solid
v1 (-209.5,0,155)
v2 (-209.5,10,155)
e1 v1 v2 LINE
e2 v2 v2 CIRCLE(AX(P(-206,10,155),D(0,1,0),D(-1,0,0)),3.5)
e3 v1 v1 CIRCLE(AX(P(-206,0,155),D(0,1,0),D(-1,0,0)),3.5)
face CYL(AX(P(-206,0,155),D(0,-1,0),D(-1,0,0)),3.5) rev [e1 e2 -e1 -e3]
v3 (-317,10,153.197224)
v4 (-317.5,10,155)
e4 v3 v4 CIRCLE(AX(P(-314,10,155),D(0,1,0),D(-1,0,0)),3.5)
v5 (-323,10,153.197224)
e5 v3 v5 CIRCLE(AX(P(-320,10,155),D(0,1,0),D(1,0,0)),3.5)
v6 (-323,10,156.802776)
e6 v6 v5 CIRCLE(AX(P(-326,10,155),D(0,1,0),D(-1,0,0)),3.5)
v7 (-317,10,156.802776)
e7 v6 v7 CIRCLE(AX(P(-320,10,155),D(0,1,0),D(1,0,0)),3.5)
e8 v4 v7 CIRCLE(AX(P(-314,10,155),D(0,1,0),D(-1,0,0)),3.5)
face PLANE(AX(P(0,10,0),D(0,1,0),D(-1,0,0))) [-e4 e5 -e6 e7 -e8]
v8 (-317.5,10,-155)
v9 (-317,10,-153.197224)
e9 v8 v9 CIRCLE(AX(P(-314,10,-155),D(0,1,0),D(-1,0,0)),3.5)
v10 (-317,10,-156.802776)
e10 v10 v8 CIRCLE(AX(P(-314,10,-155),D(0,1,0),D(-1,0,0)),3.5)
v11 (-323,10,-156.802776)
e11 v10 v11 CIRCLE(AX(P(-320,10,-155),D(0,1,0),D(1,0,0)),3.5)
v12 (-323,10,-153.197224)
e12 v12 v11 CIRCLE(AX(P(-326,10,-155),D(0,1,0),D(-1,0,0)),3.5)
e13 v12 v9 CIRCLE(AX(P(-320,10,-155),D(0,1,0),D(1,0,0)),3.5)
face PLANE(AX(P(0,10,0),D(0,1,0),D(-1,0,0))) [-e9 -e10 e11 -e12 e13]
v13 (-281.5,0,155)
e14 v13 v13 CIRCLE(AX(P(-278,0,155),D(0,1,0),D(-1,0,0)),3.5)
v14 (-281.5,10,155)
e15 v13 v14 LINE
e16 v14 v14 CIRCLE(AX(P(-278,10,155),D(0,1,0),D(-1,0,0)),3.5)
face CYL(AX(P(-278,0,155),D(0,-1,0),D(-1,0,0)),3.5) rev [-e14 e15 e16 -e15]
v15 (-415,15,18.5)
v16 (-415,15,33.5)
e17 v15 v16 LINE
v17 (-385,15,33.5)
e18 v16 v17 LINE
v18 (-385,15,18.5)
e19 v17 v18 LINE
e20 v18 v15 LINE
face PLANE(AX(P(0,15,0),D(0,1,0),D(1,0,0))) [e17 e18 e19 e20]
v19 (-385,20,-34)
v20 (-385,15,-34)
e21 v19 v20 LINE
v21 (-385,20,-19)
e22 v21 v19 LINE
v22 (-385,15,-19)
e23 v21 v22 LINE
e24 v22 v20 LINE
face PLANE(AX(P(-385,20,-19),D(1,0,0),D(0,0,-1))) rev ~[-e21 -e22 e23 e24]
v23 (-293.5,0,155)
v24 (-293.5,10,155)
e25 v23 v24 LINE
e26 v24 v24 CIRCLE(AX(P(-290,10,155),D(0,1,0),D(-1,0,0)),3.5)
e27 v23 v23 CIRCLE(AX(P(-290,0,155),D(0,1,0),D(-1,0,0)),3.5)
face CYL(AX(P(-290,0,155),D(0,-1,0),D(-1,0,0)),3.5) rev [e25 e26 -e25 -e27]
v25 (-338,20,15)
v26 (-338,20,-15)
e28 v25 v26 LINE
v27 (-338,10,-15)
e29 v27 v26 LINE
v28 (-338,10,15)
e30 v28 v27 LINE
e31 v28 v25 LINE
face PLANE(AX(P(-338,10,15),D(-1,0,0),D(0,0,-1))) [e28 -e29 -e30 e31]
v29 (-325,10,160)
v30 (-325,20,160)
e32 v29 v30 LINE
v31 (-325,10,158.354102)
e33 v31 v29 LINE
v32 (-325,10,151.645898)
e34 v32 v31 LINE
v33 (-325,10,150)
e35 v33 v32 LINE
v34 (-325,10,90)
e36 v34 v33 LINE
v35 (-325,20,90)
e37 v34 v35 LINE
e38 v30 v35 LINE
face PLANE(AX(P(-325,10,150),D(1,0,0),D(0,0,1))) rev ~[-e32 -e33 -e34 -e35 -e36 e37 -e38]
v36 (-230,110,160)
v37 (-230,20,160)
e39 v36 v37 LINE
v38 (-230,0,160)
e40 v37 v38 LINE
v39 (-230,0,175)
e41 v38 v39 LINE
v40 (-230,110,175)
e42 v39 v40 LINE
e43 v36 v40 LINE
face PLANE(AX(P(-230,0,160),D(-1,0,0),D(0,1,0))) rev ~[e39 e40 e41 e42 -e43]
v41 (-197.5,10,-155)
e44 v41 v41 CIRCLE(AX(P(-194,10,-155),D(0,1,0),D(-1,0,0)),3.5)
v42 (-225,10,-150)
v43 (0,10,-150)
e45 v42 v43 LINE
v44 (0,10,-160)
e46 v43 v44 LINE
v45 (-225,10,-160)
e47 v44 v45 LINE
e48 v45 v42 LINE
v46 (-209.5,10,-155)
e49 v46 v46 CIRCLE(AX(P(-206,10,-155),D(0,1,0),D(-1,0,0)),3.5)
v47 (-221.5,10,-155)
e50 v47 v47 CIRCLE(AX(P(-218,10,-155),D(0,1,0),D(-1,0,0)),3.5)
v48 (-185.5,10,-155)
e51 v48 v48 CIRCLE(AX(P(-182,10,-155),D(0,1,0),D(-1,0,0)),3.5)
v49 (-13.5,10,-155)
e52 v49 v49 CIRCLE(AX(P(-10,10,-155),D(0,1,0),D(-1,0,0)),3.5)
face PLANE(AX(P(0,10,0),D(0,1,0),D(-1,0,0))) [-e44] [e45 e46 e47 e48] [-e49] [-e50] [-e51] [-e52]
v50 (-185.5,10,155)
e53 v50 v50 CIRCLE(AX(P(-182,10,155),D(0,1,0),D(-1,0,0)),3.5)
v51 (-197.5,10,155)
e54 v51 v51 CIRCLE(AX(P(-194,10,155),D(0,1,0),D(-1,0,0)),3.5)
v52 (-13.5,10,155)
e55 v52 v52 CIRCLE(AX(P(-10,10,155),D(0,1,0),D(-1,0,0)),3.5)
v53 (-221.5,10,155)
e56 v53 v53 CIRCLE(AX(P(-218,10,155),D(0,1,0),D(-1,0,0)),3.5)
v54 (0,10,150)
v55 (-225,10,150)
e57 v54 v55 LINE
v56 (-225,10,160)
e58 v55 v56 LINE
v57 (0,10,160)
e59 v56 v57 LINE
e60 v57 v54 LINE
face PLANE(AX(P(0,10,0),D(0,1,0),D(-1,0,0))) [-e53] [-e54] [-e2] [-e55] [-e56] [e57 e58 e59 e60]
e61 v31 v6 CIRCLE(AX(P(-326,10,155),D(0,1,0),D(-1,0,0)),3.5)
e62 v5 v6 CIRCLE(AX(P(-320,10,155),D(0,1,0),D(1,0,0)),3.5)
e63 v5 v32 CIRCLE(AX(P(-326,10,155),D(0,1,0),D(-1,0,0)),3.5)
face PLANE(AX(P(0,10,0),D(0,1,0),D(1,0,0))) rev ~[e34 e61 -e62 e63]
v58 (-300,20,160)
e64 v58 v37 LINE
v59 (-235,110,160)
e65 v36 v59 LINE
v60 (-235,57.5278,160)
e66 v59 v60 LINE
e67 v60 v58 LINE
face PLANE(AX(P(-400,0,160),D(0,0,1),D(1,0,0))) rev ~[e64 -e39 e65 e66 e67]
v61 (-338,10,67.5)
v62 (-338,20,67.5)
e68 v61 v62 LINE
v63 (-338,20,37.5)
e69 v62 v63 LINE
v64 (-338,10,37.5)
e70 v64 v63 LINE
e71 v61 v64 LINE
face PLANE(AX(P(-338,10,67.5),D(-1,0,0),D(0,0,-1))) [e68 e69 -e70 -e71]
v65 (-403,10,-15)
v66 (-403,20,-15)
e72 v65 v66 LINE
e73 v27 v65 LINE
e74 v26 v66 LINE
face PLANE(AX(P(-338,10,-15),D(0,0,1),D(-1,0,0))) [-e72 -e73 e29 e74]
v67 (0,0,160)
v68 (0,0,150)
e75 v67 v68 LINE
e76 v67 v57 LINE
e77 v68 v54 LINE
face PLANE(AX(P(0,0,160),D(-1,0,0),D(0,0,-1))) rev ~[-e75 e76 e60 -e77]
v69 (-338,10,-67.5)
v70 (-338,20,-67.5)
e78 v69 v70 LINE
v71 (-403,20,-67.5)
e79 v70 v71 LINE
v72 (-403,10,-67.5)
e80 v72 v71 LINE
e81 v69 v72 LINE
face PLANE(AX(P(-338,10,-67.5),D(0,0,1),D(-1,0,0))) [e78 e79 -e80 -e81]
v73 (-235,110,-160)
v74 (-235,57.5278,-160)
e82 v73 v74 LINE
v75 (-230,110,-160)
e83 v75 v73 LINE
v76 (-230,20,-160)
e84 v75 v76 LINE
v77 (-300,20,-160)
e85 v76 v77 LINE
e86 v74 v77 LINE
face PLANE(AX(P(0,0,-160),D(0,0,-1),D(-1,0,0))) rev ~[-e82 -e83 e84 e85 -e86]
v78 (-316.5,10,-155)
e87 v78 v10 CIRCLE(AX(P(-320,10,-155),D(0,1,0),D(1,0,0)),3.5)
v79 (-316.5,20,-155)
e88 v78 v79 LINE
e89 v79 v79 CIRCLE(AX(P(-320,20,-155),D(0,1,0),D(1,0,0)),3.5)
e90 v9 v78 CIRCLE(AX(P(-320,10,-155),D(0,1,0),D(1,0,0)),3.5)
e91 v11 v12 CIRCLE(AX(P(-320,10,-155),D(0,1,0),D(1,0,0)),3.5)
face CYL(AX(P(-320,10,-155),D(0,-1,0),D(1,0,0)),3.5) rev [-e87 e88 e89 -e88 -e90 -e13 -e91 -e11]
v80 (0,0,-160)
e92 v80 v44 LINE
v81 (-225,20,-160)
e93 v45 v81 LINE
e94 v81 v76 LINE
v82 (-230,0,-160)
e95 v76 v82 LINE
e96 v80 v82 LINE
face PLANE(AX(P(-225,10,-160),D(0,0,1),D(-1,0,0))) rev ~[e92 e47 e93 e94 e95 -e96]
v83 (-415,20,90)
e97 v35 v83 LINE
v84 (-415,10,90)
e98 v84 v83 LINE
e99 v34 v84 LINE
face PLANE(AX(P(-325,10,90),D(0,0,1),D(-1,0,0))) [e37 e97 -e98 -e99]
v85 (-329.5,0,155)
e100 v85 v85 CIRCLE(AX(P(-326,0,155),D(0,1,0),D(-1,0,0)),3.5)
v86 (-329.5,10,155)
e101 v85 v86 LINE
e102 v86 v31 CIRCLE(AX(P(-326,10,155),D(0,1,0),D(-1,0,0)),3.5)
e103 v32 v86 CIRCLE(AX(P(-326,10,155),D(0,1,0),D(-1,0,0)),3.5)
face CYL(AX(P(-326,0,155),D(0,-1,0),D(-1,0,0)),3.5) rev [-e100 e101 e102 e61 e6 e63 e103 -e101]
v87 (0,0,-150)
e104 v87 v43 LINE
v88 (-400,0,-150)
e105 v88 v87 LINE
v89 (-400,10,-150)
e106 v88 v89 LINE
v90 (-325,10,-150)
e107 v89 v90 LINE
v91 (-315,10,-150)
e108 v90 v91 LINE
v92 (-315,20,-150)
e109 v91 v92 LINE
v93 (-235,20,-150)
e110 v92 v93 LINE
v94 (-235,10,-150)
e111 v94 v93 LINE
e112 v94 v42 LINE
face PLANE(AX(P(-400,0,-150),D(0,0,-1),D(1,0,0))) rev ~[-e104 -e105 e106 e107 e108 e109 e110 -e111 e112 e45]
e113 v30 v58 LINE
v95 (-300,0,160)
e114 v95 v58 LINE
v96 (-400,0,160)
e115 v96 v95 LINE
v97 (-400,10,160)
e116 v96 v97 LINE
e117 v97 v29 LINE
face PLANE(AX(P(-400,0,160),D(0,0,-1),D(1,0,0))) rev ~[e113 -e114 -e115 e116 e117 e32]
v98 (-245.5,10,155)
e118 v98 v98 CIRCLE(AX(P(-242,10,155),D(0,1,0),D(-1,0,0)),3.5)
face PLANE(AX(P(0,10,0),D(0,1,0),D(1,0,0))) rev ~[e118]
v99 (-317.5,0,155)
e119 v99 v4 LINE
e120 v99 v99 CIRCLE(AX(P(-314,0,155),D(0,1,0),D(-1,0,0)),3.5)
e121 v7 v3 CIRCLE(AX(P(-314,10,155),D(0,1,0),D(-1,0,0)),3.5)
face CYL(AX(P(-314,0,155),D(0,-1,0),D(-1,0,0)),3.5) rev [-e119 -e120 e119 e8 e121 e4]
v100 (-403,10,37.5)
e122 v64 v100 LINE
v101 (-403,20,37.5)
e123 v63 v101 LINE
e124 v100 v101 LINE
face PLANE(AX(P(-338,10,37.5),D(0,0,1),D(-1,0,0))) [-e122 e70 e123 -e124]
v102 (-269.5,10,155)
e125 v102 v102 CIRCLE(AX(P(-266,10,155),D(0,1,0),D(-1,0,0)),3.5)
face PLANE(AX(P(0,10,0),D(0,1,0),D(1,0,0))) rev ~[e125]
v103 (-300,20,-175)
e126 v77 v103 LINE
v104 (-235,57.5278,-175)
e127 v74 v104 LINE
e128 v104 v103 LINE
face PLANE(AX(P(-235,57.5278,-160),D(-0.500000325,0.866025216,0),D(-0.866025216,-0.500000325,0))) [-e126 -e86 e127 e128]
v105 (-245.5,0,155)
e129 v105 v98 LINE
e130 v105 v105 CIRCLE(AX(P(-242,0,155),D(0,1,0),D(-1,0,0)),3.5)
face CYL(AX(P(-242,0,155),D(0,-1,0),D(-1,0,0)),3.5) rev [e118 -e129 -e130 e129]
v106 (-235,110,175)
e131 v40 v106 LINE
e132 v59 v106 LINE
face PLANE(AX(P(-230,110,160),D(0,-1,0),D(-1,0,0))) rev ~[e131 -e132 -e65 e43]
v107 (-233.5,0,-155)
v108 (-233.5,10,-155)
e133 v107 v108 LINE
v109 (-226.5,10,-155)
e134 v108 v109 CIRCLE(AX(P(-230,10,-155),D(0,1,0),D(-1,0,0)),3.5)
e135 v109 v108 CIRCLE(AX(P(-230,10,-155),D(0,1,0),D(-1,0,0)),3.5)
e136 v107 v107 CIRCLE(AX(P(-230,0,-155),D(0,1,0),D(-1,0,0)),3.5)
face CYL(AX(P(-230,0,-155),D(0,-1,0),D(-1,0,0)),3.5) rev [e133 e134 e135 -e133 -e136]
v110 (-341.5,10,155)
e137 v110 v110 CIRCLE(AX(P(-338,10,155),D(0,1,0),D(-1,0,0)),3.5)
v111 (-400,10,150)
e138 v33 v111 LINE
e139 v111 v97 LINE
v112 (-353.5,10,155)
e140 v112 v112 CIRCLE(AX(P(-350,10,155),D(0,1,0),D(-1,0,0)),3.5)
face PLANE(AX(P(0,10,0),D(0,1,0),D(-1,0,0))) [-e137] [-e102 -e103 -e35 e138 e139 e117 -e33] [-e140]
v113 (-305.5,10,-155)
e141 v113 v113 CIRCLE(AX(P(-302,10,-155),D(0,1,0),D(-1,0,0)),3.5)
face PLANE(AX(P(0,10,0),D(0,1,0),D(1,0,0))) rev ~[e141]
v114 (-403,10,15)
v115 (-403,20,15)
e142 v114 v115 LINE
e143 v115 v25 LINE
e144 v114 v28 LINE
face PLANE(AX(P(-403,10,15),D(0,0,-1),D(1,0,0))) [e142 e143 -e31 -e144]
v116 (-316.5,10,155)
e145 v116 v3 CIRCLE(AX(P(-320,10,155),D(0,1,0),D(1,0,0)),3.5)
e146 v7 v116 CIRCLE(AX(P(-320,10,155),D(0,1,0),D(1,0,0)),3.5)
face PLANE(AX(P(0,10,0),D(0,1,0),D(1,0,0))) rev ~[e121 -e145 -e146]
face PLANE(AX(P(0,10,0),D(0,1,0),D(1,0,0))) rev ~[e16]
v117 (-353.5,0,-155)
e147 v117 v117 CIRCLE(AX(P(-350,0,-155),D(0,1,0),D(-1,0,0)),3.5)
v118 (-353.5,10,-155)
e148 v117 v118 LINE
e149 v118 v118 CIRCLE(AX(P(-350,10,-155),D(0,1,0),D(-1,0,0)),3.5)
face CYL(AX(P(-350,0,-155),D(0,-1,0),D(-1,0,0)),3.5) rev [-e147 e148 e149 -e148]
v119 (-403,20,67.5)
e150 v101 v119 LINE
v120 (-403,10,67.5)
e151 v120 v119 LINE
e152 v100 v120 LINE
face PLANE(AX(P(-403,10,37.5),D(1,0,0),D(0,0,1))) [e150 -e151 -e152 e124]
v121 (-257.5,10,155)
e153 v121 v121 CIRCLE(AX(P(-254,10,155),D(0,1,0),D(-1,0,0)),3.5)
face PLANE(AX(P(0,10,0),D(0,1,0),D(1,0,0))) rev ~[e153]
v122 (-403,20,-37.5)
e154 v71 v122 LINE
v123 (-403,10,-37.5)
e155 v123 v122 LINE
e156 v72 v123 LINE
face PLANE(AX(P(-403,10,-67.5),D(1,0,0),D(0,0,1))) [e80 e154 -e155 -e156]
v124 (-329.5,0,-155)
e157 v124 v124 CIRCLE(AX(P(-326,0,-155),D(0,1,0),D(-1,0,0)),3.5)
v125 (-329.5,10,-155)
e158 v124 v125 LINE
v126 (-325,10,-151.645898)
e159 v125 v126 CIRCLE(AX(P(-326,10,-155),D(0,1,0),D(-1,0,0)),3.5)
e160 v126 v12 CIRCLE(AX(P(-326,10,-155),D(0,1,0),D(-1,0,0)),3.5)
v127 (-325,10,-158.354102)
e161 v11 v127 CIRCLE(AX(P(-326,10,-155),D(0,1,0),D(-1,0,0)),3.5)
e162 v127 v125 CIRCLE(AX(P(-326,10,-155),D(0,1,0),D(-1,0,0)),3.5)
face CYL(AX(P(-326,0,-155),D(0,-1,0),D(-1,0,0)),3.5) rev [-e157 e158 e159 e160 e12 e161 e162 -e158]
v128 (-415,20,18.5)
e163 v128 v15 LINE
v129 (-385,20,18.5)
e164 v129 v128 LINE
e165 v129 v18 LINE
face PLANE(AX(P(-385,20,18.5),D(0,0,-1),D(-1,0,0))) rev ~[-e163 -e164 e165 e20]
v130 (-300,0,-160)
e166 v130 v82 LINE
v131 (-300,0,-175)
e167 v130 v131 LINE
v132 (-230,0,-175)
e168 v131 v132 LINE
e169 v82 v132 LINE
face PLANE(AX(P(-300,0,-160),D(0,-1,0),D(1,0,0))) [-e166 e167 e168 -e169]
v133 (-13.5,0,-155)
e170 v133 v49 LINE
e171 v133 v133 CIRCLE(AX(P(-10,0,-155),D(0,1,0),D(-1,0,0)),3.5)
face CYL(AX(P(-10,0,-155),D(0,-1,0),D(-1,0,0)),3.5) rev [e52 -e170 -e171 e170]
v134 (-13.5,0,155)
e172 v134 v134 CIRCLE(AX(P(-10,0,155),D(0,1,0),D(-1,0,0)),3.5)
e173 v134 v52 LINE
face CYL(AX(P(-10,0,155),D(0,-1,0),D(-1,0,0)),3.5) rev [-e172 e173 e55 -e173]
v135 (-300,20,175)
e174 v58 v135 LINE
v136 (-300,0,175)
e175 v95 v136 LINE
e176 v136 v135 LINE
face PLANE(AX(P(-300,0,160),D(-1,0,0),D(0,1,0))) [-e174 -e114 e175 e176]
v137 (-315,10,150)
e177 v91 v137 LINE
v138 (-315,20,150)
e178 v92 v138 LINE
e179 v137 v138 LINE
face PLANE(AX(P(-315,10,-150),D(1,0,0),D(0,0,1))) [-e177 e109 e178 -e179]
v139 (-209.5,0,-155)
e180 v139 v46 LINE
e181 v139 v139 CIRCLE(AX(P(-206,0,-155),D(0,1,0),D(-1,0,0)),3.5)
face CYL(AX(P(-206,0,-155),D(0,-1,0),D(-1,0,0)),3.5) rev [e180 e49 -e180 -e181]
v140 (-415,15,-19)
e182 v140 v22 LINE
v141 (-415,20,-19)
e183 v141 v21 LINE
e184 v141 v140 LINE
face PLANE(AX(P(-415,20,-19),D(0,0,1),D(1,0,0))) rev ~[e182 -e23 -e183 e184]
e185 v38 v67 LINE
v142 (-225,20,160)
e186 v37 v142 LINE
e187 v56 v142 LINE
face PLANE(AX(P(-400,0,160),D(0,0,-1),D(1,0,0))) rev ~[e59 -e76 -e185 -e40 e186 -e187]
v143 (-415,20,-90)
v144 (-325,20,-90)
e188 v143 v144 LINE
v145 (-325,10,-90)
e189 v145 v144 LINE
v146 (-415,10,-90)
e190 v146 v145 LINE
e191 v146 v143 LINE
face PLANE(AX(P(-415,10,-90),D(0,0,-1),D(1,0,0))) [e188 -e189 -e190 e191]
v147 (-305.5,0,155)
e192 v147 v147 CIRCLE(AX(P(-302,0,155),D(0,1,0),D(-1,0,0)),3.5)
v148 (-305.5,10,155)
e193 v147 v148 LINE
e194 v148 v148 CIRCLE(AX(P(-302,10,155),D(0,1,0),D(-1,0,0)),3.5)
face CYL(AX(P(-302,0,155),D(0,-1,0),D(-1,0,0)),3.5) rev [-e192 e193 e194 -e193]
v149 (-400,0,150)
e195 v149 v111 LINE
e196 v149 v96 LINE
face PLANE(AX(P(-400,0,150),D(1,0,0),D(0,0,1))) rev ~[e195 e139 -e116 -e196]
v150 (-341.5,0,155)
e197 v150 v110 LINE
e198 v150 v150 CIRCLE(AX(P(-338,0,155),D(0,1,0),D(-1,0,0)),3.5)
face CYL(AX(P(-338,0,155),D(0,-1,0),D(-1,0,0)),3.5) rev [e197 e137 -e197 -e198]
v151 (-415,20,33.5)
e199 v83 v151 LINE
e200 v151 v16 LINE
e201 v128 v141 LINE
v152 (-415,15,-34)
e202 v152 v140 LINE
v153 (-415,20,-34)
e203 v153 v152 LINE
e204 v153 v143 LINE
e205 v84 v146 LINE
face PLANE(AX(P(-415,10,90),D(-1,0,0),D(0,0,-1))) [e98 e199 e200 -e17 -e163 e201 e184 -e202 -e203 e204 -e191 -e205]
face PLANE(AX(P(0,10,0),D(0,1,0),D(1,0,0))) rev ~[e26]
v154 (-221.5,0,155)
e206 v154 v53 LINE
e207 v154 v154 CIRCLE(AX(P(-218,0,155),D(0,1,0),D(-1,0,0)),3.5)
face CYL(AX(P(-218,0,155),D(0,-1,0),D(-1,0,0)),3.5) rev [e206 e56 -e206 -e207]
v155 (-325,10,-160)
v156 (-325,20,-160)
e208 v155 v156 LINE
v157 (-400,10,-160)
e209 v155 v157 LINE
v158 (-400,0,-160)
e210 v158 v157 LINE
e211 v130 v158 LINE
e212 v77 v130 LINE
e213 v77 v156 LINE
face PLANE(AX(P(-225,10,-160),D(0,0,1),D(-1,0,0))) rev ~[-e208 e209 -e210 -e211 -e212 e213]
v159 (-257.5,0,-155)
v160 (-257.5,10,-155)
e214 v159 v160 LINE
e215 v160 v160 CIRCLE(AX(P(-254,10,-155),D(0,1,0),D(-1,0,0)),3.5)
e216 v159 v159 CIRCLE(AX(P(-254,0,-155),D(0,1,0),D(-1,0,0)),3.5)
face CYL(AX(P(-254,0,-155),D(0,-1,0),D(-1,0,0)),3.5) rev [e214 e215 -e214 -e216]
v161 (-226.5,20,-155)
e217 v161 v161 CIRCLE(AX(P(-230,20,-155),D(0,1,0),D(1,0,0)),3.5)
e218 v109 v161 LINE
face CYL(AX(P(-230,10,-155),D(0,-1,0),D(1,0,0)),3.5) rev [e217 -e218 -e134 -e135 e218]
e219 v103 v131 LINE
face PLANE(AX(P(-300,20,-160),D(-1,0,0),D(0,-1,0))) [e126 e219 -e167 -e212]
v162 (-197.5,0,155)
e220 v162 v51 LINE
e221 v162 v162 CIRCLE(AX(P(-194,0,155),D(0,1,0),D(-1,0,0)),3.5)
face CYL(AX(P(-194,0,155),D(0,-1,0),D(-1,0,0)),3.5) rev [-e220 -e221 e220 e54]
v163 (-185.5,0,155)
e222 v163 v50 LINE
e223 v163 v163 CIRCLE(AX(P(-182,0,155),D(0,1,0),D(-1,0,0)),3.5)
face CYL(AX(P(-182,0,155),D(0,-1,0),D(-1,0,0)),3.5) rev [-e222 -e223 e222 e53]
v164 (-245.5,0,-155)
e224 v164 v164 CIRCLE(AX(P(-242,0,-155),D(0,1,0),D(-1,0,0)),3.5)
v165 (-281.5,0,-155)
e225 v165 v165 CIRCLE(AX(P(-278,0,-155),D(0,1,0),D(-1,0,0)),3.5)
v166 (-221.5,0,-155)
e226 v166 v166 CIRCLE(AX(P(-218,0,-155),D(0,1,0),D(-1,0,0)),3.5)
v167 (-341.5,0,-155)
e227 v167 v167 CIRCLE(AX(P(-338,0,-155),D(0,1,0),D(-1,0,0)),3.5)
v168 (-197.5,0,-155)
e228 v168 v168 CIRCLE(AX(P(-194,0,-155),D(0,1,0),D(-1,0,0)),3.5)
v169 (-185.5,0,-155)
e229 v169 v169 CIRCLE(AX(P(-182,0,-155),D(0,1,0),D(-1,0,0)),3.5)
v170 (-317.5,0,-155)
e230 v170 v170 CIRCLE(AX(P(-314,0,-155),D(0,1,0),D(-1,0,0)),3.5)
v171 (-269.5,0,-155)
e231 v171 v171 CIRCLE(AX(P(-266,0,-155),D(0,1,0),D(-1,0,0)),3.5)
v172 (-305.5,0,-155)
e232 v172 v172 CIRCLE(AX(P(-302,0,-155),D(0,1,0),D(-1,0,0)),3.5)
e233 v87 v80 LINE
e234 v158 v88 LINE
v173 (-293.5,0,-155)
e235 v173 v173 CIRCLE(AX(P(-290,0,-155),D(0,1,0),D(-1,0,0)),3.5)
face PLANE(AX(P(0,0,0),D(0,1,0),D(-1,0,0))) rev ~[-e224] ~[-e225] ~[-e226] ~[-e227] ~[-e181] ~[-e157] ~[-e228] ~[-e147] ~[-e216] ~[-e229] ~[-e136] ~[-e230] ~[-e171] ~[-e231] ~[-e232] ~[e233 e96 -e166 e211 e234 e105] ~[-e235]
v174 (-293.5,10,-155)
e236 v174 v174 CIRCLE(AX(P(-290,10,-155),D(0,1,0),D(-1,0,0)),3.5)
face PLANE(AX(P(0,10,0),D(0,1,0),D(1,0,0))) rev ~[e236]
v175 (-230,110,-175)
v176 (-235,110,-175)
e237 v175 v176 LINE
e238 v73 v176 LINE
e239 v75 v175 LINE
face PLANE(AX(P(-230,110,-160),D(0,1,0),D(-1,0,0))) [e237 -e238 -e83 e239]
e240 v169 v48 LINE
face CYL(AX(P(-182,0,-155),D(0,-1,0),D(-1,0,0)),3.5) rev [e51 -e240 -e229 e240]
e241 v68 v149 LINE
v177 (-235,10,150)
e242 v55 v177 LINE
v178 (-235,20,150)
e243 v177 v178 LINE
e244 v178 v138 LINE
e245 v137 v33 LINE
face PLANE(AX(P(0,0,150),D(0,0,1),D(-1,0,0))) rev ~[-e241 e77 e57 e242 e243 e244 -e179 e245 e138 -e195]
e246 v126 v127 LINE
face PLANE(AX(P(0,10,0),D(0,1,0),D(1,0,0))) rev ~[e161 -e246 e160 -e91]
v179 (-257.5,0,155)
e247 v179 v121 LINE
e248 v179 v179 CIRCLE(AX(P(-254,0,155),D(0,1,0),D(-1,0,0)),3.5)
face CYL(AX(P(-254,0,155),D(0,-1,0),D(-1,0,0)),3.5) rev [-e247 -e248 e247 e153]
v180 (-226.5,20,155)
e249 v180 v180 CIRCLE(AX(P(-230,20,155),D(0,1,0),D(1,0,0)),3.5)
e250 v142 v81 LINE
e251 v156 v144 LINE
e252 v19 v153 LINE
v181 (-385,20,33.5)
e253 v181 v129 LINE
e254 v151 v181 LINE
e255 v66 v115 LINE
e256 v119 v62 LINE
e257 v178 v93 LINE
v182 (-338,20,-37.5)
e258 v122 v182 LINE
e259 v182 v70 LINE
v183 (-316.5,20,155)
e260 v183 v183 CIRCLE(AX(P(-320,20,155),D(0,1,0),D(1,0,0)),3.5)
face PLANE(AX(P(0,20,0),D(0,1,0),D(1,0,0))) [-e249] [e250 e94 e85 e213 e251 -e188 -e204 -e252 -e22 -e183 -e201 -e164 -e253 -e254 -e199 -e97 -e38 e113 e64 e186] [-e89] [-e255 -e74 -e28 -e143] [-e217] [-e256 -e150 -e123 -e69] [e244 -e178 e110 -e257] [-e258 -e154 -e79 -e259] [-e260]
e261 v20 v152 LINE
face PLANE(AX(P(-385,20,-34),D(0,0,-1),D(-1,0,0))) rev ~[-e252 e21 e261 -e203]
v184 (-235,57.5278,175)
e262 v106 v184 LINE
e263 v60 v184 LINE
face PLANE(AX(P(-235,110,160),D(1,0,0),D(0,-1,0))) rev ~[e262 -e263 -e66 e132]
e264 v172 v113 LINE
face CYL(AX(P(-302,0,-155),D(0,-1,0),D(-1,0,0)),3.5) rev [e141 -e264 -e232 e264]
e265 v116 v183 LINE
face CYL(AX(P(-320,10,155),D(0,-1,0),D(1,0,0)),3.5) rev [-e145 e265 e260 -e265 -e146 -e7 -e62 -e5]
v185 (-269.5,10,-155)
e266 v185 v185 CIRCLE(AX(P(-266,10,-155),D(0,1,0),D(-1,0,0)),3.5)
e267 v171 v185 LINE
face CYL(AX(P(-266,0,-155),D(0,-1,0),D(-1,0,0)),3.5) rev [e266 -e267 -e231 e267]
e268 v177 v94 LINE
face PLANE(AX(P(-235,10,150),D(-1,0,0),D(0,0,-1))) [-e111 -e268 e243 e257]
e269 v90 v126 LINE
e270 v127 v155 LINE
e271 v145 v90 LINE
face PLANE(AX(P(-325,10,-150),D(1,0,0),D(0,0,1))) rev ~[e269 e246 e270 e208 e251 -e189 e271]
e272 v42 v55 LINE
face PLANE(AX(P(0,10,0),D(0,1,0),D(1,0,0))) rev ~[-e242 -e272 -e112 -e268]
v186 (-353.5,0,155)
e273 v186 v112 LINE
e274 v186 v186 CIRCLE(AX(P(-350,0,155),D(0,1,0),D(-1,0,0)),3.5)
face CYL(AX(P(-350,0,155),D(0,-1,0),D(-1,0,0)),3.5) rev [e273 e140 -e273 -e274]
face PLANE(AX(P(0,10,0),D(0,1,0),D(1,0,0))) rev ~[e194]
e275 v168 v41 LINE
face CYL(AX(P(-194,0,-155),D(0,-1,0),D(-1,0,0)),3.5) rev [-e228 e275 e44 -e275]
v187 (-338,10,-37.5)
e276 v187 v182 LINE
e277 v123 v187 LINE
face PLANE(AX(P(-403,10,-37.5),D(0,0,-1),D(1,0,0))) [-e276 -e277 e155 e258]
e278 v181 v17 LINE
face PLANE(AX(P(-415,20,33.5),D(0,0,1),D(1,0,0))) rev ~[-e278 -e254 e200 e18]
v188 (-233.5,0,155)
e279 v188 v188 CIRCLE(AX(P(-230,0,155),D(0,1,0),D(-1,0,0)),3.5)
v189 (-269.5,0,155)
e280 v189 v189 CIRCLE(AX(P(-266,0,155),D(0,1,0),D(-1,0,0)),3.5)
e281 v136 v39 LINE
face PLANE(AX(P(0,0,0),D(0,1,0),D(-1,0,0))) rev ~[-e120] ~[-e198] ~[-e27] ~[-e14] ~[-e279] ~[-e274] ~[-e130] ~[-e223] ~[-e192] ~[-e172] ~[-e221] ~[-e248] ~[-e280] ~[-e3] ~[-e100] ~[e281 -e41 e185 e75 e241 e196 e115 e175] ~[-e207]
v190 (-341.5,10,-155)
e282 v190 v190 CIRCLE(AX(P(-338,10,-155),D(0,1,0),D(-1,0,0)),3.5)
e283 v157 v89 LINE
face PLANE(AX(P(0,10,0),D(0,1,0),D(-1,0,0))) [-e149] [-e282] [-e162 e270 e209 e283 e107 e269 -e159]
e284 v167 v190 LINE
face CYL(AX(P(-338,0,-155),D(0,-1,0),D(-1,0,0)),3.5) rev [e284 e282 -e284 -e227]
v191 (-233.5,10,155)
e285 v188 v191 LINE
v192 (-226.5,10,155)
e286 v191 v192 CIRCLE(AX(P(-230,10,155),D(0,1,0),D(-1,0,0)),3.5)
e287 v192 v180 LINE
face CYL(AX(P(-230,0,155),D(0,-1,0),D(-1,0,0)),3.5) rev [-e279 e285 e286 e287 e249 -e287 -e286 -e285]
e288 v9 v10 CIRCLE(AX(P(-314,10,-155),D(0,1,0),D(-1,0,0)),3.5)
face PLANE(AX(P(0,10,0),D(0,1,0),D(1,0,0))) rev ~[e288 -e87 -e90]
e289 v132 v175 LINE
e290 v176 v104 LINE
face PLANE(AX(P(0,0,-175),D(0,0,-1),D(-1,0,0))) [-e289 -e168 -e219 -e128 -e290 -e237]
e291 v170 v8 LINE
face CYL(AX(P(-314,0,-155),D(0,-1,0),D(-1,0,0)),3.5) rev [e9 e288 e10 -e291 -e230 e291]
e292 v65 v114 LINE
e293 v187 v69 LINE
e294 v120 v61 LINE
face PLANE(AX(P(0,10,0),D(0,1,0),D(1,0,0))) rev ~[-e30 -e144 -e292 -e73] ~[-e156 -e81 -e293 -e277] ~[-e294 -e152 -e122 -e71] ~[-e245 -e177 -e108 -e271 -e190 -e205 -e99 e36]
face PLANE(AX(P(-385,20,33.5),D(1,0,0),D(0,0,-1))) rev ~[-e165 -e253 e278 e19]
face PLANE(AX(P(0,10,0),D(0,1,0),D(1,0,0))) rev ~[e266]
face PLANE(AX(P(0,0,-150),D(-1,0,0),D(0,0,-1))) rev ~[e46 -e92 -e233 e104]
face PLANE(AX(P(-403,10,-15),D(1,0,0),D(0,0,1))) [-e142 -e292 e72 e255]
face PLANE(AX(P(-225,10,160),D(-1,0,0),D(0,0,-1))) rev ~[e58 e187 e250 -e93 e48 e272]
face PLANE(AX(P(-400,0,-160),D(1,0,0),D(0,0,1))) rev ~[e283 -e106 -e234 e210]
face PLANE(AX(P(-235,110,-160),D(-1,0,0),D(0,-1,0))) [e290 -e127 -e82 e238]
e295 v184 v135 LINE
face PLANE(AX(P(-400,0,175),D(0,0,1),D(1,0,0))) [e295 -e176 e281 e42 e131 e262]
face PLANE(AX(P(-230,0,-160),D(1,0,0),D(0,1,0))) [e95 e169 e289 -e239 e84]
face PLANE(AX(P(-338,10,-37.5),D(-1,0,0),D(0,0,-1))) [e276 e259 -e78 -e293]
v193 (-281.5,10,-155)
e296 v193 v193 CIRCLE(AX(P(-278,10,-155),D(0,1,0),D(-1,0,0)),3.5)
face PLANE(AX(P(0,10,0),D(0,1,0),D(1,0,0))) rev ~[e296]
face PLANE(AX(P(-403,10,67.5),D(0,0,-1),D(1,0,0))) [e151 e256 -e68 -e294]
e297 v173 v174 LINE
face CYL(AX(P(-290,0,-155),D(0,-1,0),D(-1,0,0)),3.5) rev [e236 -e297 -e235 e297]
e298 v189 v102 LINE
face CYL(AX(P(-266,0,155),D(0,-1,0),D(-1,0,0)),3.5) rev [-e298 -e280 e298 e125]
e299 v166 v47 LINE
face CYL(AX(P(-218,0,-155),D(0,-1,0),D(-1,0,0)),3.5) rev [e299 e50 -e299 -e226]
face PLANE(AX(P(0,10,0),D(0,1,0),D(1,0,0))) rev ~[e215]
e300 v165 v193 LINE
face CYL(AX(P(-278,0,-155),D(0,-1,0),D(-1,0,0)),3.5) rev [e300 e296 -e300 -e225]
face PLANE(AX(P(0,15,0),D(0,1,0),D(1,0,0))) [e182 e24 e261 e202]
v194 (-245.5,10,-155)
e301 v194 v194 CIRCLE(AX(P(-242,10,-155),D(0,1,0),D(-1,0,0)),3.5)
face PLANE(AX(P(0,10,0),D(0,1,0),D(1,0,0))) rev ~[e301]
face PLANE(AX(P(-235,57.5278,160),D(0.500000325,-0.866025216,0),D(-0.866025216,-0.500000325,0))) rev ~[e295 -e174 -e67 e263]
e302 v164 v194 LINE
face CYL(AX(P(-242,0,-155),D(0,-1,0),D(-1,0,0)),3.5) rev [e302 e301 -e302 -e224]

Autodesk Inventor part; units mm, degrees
ref_plane "YZ Plane" through (0, 0, 0) normal (1, 0, 0) x (0, 1, 0)
ref_plane "XZ Plane" through (0, 0, 0) normal (0, 1, 0) x (-1, 0, 0)
ref_plane "XY Plane" through (0, 0, 0) normal (0, 0, 1) x (1, 0, 0)
sketch "Sketch1" plane through (0, 0, 0) normal (0, 1, 0) x (-1, 0, 0)
  line L0 (400, 160) -> (0, 160)
  line L1 (0, 160) -> (0, 150)
  line L2 (0, 150) -> (400, 150)
  line L3 (400, 150) -> (400, 160)
  line L4 (400, -150) -> (0, -150)
  line L5 (0, -150) -> (0, -160)
  line L6 (0, -160) -> (400, -160)
  line L7 (400, -160) -> (400, -150)
  line L8 (0, 150) -> (0, 0) construction
  line L9 (0, 0) -> (200, 0) construction
  circle A0 centre (350, 155) radius 3.5
  circle A1 centre (350, -155) radius 3.5
  circle A2 centre (338, 155) radius 3.5
  circle A3 centre (338, -155) radius 3.5
  circle A4 centre (326, 155) radius 3.5
  circle A5 centre (326, -155) radius 3.5
  circle A6 centre (314, 155) radius 3.5
  circle A7 centre (314, -155) radius 3.5
  circle A8 centre (302, 155) radius 3.5
  circle A9 centre (302, -155) radius 3.5
  circle A10 centre (290, 155) radius 3.5
  circle A11 centre (290, -155) radius 3.5
  circle A12 centre (278, 155) radius 3.5
  circle A13 centre (278, -155) radius 3.5
  circle A14 centre (266, 155) radius 3.5
  circle A15 centre (266, -155) radius 3.5
  circle A16 centre (254, 155) radius 3.5
  circle A17 centre (254, -155) radius 3.5
  circle A18 centre (242, 155) radius 3.5
  circle A19 centre (242, -155) radius 3.5
  circle A20 centre (230, 155) radius 3.5
  circle A21 centre (230, -155) radius 3.5
  circle A22 centre (218, 155) radius 3.5
  circle A23 centre (218, -155) radius 3.5
  circle A24 centre (206, 155) radius 3.5
  circle A25 centre (206, -155) radius 3.5
  circle A26 centre (194, 155) radius 3.5
  circle A27 centre (194, -155) radius 3.5
  circle A28 centre (182, 155) radius 3.5
  circle A29 centre (182, -155) radius 3.5
  circle A30 centre (10, 155) radius 3.5
  circle A31 centre (10, -155) radius 3.5
  point P0 (400, 155)
  point P1 (400, -155)
  point P2 (0, -155)
  point P3 (0, 155)
  dimension "d0" = 10
  dimension "d1" = 400
  dimension "d2" = 300
  dimension "d3" = 150
  dimension "d4" = 200
  dimension "d5" = 50
  dimension "d6" = 7
  dimension "d7" = 7
  dimension "d8" = 50
  dimension "d11" = 12
  dimension "d16" = 7
  dimension "d17" = 10
  dimension "d18" = 10
  dimension "d19" = 7
extrude "Extrusion1" add sketch "Sketch1" along normal blind 10
sketch "Sketch2" plane through (0, 10, 0) normal (0, 1, 0) x (1, 0, 0)
  line L0 (-325, -160) -> (-225, -160)
  line L1 (-225, -160) -> (-225, 160)
  line L2 (-225, 160) -> (-325, 160)
  line L3 (-325, 160) -> (-325, -160)
  line L4 (0, 160) -> (-400, 160) projected
  line L5 (-400, -160) -> (0, -160) projected
  line L6 (0, -150) -> (-400, -150) projected
  line L7 (-400, 150) -> (0, 150) projected
  line L8 (-315, -150) -> (-235, -150)
  line L9 (-235, -150) -> (-235, 150)
  line L10 (-235, 150) -> (-315, 150)
  line L11 (-315, 150) -> (-315, -150)
  line L12 (-325, -90) -> (-415, -90)
  line L13 (-415, -90) -> (-415, 90)
  line L14 (-415, 90) -> (-325, 90)
  line L15 (-325, 90) -> (-325, -90)
  line L16 (-403, -67.5) -> (-338, -67.5)
  line L17 (-338, -67.5) -> (-338, -37.5)
  line L18 (-338, -37.5) -> (-403, -37.5)
  line L19 (-403, -37.5) -> (-403, -67.5)
  line L20 (-403, -15) -> (-338, -15)
  line L21 (-338, -15) -> (-338, 15)
  line L22 (-338, 15) -> (-403, 15)
  line L23 (-403, 15) -> (-403, -15)
  line L24 (-403, 37.5) -> (-338, 37.5)
  line L25 (-338, 37.5) -> (-338, 67.5)
  line L26 (-338, 67.5) -> (-403, 67.5)
  line L27 (-403, 67.5) -> (-403, 37.5)
  circle A0 centre (-320, -155) radius 3.5
  line L28 (0, -160) -> (0, -150) projected
  circle A1 centre (-320, 155) radius 3.5
  line L29 (-400, 160) -> (-400, 150) projected
  circle A2 centre (-230, -155) radius 3.5
  circle A3 centre (-230, 155) radius 3.5
  point P0 (0, 0)
  point P1 (-325, 0)
  point P2 (0, -155)
  point P3 (-400, 155)
  dimension "d22" = 0
  dimension "d23" = 0
  dimension "d25" = 10
  dimension "d26" = 10
  dimension "d27" = 80
  dimension "d28" = 225
  dimension "d31" = 180
  dimension "d33" = 60
  dimension "d34" = 90
  dimension "d35" = 30
  dimension "d36" = 30
  dimension "d37" = 30
  dimension "d38" = 65
  dimension "d41" = 12
  dimension "d42" = 22.5
  dimension "d43" = 22.5
  dimension "d44" = 22.5
  dimension "d48" = 5
  dimension "d49" = 7
  dimension "d50" = 5
  dimension "d51" = 7
  dimension "d54" = 90
extrude "Extrusion3" add sketch "Sketch2" along normal blind 10 contours L3 L6 L1 L0 | L3 L7 L11 L6 | L6 L9 L7 L1 | L12 L13 L14 L3 | L7 L3 L2 L1
sketch "Sketch3" plane through (0, 20, 0) normal (0, 1, 0) x (1, 0, 0)
  line L0 (-415, 90) -> (-415, -90) projected
  line L1 (-415, -33.5) -> (-385, -33.5)
  line L2 (-385, -33.5) -> (-385, -18.5)
  line L3 (-385, -18.5) -> (-415, -18.5)
  line L4 (-415, -18.5) -> (-415, -33.5)
  line L5 (-415, 19) -> (-385, 19)
  line L6 (-385, 19) -> (-385, 34)
  line L7 (-385, 34) -> (-415, 34)
  line L8 (-415, 34) -> (-415, 19)
  line L9 (-403, 15) -> (-338, 15) projected
  line L10 (-403, -37.5) -> (-338, -37.5) projected
  point P0 (0, 0)
  dimension "d61" = 0
  dimension "d62" = 30
  dimension "d63" = 15
  dimension "d64" = 15
  dimension "d65" = 4
  dimension "d66" = 4
extrude "Extrusion4" cut sketch "Sketch3" against normal blind 5
sketch "Sketch4" plane through (-400, 0, 160) normal (0, 0, 1) x (1, 0, 0)
  line L0 (100, 0) -> (170, 0)
  line L1 (170, 0) -> (170, 110)
  line L2 (170, 110) -> (165, 110)
  line L3 (165, 110) -> (165, 57.5278)
  line L4 (100, 0) -> (100, 20)
  line L5 (75, 20) -> (175, 20) projected
  line L6 (165, 57.5278) -> (100, 20)
  line L7 (175, 10) -> (175, 20) projected
  point P0 (400, 0)
  dimension "d69" = 120
  dimension "d70" = 5
  dimension "d71" = 110
  dimension "d72" = 70
  dimension "d73" = 20
  dimension "d74" = 5
extrude "Extrusion5" add sketch "Sketch4" along normal blind 15
sketch "Sketch5" plane through (0, 0, -160) normal (0, 0, -1) x (-1, 0, 0)
  line L0 (300, 0) -> (230, 0) projected
  line L1 (300, 0) -> (230, 0)
  line L2 (230, 0) -> (230, 110)
  line L3 (230, 110) -> (235, 110)
  line L4 (235, 110) -> (235, 57.5278)
  line L5 (325, 20) -> (225, 20) projected
  line L6 (235, 57.5278) -> (300, 20)
  line L7 (300, 20) -> (300, 0)
  point P0 (0, 0)
  point P1 (230, 20)
  dimension "d83" = 110
  dimension "d84" = 120
  dimension "d85" = 5
extrude "Extrusion6" add sketch "Sketch5" along normal blind 15
properties part number "Pedal Box Mount V1"
